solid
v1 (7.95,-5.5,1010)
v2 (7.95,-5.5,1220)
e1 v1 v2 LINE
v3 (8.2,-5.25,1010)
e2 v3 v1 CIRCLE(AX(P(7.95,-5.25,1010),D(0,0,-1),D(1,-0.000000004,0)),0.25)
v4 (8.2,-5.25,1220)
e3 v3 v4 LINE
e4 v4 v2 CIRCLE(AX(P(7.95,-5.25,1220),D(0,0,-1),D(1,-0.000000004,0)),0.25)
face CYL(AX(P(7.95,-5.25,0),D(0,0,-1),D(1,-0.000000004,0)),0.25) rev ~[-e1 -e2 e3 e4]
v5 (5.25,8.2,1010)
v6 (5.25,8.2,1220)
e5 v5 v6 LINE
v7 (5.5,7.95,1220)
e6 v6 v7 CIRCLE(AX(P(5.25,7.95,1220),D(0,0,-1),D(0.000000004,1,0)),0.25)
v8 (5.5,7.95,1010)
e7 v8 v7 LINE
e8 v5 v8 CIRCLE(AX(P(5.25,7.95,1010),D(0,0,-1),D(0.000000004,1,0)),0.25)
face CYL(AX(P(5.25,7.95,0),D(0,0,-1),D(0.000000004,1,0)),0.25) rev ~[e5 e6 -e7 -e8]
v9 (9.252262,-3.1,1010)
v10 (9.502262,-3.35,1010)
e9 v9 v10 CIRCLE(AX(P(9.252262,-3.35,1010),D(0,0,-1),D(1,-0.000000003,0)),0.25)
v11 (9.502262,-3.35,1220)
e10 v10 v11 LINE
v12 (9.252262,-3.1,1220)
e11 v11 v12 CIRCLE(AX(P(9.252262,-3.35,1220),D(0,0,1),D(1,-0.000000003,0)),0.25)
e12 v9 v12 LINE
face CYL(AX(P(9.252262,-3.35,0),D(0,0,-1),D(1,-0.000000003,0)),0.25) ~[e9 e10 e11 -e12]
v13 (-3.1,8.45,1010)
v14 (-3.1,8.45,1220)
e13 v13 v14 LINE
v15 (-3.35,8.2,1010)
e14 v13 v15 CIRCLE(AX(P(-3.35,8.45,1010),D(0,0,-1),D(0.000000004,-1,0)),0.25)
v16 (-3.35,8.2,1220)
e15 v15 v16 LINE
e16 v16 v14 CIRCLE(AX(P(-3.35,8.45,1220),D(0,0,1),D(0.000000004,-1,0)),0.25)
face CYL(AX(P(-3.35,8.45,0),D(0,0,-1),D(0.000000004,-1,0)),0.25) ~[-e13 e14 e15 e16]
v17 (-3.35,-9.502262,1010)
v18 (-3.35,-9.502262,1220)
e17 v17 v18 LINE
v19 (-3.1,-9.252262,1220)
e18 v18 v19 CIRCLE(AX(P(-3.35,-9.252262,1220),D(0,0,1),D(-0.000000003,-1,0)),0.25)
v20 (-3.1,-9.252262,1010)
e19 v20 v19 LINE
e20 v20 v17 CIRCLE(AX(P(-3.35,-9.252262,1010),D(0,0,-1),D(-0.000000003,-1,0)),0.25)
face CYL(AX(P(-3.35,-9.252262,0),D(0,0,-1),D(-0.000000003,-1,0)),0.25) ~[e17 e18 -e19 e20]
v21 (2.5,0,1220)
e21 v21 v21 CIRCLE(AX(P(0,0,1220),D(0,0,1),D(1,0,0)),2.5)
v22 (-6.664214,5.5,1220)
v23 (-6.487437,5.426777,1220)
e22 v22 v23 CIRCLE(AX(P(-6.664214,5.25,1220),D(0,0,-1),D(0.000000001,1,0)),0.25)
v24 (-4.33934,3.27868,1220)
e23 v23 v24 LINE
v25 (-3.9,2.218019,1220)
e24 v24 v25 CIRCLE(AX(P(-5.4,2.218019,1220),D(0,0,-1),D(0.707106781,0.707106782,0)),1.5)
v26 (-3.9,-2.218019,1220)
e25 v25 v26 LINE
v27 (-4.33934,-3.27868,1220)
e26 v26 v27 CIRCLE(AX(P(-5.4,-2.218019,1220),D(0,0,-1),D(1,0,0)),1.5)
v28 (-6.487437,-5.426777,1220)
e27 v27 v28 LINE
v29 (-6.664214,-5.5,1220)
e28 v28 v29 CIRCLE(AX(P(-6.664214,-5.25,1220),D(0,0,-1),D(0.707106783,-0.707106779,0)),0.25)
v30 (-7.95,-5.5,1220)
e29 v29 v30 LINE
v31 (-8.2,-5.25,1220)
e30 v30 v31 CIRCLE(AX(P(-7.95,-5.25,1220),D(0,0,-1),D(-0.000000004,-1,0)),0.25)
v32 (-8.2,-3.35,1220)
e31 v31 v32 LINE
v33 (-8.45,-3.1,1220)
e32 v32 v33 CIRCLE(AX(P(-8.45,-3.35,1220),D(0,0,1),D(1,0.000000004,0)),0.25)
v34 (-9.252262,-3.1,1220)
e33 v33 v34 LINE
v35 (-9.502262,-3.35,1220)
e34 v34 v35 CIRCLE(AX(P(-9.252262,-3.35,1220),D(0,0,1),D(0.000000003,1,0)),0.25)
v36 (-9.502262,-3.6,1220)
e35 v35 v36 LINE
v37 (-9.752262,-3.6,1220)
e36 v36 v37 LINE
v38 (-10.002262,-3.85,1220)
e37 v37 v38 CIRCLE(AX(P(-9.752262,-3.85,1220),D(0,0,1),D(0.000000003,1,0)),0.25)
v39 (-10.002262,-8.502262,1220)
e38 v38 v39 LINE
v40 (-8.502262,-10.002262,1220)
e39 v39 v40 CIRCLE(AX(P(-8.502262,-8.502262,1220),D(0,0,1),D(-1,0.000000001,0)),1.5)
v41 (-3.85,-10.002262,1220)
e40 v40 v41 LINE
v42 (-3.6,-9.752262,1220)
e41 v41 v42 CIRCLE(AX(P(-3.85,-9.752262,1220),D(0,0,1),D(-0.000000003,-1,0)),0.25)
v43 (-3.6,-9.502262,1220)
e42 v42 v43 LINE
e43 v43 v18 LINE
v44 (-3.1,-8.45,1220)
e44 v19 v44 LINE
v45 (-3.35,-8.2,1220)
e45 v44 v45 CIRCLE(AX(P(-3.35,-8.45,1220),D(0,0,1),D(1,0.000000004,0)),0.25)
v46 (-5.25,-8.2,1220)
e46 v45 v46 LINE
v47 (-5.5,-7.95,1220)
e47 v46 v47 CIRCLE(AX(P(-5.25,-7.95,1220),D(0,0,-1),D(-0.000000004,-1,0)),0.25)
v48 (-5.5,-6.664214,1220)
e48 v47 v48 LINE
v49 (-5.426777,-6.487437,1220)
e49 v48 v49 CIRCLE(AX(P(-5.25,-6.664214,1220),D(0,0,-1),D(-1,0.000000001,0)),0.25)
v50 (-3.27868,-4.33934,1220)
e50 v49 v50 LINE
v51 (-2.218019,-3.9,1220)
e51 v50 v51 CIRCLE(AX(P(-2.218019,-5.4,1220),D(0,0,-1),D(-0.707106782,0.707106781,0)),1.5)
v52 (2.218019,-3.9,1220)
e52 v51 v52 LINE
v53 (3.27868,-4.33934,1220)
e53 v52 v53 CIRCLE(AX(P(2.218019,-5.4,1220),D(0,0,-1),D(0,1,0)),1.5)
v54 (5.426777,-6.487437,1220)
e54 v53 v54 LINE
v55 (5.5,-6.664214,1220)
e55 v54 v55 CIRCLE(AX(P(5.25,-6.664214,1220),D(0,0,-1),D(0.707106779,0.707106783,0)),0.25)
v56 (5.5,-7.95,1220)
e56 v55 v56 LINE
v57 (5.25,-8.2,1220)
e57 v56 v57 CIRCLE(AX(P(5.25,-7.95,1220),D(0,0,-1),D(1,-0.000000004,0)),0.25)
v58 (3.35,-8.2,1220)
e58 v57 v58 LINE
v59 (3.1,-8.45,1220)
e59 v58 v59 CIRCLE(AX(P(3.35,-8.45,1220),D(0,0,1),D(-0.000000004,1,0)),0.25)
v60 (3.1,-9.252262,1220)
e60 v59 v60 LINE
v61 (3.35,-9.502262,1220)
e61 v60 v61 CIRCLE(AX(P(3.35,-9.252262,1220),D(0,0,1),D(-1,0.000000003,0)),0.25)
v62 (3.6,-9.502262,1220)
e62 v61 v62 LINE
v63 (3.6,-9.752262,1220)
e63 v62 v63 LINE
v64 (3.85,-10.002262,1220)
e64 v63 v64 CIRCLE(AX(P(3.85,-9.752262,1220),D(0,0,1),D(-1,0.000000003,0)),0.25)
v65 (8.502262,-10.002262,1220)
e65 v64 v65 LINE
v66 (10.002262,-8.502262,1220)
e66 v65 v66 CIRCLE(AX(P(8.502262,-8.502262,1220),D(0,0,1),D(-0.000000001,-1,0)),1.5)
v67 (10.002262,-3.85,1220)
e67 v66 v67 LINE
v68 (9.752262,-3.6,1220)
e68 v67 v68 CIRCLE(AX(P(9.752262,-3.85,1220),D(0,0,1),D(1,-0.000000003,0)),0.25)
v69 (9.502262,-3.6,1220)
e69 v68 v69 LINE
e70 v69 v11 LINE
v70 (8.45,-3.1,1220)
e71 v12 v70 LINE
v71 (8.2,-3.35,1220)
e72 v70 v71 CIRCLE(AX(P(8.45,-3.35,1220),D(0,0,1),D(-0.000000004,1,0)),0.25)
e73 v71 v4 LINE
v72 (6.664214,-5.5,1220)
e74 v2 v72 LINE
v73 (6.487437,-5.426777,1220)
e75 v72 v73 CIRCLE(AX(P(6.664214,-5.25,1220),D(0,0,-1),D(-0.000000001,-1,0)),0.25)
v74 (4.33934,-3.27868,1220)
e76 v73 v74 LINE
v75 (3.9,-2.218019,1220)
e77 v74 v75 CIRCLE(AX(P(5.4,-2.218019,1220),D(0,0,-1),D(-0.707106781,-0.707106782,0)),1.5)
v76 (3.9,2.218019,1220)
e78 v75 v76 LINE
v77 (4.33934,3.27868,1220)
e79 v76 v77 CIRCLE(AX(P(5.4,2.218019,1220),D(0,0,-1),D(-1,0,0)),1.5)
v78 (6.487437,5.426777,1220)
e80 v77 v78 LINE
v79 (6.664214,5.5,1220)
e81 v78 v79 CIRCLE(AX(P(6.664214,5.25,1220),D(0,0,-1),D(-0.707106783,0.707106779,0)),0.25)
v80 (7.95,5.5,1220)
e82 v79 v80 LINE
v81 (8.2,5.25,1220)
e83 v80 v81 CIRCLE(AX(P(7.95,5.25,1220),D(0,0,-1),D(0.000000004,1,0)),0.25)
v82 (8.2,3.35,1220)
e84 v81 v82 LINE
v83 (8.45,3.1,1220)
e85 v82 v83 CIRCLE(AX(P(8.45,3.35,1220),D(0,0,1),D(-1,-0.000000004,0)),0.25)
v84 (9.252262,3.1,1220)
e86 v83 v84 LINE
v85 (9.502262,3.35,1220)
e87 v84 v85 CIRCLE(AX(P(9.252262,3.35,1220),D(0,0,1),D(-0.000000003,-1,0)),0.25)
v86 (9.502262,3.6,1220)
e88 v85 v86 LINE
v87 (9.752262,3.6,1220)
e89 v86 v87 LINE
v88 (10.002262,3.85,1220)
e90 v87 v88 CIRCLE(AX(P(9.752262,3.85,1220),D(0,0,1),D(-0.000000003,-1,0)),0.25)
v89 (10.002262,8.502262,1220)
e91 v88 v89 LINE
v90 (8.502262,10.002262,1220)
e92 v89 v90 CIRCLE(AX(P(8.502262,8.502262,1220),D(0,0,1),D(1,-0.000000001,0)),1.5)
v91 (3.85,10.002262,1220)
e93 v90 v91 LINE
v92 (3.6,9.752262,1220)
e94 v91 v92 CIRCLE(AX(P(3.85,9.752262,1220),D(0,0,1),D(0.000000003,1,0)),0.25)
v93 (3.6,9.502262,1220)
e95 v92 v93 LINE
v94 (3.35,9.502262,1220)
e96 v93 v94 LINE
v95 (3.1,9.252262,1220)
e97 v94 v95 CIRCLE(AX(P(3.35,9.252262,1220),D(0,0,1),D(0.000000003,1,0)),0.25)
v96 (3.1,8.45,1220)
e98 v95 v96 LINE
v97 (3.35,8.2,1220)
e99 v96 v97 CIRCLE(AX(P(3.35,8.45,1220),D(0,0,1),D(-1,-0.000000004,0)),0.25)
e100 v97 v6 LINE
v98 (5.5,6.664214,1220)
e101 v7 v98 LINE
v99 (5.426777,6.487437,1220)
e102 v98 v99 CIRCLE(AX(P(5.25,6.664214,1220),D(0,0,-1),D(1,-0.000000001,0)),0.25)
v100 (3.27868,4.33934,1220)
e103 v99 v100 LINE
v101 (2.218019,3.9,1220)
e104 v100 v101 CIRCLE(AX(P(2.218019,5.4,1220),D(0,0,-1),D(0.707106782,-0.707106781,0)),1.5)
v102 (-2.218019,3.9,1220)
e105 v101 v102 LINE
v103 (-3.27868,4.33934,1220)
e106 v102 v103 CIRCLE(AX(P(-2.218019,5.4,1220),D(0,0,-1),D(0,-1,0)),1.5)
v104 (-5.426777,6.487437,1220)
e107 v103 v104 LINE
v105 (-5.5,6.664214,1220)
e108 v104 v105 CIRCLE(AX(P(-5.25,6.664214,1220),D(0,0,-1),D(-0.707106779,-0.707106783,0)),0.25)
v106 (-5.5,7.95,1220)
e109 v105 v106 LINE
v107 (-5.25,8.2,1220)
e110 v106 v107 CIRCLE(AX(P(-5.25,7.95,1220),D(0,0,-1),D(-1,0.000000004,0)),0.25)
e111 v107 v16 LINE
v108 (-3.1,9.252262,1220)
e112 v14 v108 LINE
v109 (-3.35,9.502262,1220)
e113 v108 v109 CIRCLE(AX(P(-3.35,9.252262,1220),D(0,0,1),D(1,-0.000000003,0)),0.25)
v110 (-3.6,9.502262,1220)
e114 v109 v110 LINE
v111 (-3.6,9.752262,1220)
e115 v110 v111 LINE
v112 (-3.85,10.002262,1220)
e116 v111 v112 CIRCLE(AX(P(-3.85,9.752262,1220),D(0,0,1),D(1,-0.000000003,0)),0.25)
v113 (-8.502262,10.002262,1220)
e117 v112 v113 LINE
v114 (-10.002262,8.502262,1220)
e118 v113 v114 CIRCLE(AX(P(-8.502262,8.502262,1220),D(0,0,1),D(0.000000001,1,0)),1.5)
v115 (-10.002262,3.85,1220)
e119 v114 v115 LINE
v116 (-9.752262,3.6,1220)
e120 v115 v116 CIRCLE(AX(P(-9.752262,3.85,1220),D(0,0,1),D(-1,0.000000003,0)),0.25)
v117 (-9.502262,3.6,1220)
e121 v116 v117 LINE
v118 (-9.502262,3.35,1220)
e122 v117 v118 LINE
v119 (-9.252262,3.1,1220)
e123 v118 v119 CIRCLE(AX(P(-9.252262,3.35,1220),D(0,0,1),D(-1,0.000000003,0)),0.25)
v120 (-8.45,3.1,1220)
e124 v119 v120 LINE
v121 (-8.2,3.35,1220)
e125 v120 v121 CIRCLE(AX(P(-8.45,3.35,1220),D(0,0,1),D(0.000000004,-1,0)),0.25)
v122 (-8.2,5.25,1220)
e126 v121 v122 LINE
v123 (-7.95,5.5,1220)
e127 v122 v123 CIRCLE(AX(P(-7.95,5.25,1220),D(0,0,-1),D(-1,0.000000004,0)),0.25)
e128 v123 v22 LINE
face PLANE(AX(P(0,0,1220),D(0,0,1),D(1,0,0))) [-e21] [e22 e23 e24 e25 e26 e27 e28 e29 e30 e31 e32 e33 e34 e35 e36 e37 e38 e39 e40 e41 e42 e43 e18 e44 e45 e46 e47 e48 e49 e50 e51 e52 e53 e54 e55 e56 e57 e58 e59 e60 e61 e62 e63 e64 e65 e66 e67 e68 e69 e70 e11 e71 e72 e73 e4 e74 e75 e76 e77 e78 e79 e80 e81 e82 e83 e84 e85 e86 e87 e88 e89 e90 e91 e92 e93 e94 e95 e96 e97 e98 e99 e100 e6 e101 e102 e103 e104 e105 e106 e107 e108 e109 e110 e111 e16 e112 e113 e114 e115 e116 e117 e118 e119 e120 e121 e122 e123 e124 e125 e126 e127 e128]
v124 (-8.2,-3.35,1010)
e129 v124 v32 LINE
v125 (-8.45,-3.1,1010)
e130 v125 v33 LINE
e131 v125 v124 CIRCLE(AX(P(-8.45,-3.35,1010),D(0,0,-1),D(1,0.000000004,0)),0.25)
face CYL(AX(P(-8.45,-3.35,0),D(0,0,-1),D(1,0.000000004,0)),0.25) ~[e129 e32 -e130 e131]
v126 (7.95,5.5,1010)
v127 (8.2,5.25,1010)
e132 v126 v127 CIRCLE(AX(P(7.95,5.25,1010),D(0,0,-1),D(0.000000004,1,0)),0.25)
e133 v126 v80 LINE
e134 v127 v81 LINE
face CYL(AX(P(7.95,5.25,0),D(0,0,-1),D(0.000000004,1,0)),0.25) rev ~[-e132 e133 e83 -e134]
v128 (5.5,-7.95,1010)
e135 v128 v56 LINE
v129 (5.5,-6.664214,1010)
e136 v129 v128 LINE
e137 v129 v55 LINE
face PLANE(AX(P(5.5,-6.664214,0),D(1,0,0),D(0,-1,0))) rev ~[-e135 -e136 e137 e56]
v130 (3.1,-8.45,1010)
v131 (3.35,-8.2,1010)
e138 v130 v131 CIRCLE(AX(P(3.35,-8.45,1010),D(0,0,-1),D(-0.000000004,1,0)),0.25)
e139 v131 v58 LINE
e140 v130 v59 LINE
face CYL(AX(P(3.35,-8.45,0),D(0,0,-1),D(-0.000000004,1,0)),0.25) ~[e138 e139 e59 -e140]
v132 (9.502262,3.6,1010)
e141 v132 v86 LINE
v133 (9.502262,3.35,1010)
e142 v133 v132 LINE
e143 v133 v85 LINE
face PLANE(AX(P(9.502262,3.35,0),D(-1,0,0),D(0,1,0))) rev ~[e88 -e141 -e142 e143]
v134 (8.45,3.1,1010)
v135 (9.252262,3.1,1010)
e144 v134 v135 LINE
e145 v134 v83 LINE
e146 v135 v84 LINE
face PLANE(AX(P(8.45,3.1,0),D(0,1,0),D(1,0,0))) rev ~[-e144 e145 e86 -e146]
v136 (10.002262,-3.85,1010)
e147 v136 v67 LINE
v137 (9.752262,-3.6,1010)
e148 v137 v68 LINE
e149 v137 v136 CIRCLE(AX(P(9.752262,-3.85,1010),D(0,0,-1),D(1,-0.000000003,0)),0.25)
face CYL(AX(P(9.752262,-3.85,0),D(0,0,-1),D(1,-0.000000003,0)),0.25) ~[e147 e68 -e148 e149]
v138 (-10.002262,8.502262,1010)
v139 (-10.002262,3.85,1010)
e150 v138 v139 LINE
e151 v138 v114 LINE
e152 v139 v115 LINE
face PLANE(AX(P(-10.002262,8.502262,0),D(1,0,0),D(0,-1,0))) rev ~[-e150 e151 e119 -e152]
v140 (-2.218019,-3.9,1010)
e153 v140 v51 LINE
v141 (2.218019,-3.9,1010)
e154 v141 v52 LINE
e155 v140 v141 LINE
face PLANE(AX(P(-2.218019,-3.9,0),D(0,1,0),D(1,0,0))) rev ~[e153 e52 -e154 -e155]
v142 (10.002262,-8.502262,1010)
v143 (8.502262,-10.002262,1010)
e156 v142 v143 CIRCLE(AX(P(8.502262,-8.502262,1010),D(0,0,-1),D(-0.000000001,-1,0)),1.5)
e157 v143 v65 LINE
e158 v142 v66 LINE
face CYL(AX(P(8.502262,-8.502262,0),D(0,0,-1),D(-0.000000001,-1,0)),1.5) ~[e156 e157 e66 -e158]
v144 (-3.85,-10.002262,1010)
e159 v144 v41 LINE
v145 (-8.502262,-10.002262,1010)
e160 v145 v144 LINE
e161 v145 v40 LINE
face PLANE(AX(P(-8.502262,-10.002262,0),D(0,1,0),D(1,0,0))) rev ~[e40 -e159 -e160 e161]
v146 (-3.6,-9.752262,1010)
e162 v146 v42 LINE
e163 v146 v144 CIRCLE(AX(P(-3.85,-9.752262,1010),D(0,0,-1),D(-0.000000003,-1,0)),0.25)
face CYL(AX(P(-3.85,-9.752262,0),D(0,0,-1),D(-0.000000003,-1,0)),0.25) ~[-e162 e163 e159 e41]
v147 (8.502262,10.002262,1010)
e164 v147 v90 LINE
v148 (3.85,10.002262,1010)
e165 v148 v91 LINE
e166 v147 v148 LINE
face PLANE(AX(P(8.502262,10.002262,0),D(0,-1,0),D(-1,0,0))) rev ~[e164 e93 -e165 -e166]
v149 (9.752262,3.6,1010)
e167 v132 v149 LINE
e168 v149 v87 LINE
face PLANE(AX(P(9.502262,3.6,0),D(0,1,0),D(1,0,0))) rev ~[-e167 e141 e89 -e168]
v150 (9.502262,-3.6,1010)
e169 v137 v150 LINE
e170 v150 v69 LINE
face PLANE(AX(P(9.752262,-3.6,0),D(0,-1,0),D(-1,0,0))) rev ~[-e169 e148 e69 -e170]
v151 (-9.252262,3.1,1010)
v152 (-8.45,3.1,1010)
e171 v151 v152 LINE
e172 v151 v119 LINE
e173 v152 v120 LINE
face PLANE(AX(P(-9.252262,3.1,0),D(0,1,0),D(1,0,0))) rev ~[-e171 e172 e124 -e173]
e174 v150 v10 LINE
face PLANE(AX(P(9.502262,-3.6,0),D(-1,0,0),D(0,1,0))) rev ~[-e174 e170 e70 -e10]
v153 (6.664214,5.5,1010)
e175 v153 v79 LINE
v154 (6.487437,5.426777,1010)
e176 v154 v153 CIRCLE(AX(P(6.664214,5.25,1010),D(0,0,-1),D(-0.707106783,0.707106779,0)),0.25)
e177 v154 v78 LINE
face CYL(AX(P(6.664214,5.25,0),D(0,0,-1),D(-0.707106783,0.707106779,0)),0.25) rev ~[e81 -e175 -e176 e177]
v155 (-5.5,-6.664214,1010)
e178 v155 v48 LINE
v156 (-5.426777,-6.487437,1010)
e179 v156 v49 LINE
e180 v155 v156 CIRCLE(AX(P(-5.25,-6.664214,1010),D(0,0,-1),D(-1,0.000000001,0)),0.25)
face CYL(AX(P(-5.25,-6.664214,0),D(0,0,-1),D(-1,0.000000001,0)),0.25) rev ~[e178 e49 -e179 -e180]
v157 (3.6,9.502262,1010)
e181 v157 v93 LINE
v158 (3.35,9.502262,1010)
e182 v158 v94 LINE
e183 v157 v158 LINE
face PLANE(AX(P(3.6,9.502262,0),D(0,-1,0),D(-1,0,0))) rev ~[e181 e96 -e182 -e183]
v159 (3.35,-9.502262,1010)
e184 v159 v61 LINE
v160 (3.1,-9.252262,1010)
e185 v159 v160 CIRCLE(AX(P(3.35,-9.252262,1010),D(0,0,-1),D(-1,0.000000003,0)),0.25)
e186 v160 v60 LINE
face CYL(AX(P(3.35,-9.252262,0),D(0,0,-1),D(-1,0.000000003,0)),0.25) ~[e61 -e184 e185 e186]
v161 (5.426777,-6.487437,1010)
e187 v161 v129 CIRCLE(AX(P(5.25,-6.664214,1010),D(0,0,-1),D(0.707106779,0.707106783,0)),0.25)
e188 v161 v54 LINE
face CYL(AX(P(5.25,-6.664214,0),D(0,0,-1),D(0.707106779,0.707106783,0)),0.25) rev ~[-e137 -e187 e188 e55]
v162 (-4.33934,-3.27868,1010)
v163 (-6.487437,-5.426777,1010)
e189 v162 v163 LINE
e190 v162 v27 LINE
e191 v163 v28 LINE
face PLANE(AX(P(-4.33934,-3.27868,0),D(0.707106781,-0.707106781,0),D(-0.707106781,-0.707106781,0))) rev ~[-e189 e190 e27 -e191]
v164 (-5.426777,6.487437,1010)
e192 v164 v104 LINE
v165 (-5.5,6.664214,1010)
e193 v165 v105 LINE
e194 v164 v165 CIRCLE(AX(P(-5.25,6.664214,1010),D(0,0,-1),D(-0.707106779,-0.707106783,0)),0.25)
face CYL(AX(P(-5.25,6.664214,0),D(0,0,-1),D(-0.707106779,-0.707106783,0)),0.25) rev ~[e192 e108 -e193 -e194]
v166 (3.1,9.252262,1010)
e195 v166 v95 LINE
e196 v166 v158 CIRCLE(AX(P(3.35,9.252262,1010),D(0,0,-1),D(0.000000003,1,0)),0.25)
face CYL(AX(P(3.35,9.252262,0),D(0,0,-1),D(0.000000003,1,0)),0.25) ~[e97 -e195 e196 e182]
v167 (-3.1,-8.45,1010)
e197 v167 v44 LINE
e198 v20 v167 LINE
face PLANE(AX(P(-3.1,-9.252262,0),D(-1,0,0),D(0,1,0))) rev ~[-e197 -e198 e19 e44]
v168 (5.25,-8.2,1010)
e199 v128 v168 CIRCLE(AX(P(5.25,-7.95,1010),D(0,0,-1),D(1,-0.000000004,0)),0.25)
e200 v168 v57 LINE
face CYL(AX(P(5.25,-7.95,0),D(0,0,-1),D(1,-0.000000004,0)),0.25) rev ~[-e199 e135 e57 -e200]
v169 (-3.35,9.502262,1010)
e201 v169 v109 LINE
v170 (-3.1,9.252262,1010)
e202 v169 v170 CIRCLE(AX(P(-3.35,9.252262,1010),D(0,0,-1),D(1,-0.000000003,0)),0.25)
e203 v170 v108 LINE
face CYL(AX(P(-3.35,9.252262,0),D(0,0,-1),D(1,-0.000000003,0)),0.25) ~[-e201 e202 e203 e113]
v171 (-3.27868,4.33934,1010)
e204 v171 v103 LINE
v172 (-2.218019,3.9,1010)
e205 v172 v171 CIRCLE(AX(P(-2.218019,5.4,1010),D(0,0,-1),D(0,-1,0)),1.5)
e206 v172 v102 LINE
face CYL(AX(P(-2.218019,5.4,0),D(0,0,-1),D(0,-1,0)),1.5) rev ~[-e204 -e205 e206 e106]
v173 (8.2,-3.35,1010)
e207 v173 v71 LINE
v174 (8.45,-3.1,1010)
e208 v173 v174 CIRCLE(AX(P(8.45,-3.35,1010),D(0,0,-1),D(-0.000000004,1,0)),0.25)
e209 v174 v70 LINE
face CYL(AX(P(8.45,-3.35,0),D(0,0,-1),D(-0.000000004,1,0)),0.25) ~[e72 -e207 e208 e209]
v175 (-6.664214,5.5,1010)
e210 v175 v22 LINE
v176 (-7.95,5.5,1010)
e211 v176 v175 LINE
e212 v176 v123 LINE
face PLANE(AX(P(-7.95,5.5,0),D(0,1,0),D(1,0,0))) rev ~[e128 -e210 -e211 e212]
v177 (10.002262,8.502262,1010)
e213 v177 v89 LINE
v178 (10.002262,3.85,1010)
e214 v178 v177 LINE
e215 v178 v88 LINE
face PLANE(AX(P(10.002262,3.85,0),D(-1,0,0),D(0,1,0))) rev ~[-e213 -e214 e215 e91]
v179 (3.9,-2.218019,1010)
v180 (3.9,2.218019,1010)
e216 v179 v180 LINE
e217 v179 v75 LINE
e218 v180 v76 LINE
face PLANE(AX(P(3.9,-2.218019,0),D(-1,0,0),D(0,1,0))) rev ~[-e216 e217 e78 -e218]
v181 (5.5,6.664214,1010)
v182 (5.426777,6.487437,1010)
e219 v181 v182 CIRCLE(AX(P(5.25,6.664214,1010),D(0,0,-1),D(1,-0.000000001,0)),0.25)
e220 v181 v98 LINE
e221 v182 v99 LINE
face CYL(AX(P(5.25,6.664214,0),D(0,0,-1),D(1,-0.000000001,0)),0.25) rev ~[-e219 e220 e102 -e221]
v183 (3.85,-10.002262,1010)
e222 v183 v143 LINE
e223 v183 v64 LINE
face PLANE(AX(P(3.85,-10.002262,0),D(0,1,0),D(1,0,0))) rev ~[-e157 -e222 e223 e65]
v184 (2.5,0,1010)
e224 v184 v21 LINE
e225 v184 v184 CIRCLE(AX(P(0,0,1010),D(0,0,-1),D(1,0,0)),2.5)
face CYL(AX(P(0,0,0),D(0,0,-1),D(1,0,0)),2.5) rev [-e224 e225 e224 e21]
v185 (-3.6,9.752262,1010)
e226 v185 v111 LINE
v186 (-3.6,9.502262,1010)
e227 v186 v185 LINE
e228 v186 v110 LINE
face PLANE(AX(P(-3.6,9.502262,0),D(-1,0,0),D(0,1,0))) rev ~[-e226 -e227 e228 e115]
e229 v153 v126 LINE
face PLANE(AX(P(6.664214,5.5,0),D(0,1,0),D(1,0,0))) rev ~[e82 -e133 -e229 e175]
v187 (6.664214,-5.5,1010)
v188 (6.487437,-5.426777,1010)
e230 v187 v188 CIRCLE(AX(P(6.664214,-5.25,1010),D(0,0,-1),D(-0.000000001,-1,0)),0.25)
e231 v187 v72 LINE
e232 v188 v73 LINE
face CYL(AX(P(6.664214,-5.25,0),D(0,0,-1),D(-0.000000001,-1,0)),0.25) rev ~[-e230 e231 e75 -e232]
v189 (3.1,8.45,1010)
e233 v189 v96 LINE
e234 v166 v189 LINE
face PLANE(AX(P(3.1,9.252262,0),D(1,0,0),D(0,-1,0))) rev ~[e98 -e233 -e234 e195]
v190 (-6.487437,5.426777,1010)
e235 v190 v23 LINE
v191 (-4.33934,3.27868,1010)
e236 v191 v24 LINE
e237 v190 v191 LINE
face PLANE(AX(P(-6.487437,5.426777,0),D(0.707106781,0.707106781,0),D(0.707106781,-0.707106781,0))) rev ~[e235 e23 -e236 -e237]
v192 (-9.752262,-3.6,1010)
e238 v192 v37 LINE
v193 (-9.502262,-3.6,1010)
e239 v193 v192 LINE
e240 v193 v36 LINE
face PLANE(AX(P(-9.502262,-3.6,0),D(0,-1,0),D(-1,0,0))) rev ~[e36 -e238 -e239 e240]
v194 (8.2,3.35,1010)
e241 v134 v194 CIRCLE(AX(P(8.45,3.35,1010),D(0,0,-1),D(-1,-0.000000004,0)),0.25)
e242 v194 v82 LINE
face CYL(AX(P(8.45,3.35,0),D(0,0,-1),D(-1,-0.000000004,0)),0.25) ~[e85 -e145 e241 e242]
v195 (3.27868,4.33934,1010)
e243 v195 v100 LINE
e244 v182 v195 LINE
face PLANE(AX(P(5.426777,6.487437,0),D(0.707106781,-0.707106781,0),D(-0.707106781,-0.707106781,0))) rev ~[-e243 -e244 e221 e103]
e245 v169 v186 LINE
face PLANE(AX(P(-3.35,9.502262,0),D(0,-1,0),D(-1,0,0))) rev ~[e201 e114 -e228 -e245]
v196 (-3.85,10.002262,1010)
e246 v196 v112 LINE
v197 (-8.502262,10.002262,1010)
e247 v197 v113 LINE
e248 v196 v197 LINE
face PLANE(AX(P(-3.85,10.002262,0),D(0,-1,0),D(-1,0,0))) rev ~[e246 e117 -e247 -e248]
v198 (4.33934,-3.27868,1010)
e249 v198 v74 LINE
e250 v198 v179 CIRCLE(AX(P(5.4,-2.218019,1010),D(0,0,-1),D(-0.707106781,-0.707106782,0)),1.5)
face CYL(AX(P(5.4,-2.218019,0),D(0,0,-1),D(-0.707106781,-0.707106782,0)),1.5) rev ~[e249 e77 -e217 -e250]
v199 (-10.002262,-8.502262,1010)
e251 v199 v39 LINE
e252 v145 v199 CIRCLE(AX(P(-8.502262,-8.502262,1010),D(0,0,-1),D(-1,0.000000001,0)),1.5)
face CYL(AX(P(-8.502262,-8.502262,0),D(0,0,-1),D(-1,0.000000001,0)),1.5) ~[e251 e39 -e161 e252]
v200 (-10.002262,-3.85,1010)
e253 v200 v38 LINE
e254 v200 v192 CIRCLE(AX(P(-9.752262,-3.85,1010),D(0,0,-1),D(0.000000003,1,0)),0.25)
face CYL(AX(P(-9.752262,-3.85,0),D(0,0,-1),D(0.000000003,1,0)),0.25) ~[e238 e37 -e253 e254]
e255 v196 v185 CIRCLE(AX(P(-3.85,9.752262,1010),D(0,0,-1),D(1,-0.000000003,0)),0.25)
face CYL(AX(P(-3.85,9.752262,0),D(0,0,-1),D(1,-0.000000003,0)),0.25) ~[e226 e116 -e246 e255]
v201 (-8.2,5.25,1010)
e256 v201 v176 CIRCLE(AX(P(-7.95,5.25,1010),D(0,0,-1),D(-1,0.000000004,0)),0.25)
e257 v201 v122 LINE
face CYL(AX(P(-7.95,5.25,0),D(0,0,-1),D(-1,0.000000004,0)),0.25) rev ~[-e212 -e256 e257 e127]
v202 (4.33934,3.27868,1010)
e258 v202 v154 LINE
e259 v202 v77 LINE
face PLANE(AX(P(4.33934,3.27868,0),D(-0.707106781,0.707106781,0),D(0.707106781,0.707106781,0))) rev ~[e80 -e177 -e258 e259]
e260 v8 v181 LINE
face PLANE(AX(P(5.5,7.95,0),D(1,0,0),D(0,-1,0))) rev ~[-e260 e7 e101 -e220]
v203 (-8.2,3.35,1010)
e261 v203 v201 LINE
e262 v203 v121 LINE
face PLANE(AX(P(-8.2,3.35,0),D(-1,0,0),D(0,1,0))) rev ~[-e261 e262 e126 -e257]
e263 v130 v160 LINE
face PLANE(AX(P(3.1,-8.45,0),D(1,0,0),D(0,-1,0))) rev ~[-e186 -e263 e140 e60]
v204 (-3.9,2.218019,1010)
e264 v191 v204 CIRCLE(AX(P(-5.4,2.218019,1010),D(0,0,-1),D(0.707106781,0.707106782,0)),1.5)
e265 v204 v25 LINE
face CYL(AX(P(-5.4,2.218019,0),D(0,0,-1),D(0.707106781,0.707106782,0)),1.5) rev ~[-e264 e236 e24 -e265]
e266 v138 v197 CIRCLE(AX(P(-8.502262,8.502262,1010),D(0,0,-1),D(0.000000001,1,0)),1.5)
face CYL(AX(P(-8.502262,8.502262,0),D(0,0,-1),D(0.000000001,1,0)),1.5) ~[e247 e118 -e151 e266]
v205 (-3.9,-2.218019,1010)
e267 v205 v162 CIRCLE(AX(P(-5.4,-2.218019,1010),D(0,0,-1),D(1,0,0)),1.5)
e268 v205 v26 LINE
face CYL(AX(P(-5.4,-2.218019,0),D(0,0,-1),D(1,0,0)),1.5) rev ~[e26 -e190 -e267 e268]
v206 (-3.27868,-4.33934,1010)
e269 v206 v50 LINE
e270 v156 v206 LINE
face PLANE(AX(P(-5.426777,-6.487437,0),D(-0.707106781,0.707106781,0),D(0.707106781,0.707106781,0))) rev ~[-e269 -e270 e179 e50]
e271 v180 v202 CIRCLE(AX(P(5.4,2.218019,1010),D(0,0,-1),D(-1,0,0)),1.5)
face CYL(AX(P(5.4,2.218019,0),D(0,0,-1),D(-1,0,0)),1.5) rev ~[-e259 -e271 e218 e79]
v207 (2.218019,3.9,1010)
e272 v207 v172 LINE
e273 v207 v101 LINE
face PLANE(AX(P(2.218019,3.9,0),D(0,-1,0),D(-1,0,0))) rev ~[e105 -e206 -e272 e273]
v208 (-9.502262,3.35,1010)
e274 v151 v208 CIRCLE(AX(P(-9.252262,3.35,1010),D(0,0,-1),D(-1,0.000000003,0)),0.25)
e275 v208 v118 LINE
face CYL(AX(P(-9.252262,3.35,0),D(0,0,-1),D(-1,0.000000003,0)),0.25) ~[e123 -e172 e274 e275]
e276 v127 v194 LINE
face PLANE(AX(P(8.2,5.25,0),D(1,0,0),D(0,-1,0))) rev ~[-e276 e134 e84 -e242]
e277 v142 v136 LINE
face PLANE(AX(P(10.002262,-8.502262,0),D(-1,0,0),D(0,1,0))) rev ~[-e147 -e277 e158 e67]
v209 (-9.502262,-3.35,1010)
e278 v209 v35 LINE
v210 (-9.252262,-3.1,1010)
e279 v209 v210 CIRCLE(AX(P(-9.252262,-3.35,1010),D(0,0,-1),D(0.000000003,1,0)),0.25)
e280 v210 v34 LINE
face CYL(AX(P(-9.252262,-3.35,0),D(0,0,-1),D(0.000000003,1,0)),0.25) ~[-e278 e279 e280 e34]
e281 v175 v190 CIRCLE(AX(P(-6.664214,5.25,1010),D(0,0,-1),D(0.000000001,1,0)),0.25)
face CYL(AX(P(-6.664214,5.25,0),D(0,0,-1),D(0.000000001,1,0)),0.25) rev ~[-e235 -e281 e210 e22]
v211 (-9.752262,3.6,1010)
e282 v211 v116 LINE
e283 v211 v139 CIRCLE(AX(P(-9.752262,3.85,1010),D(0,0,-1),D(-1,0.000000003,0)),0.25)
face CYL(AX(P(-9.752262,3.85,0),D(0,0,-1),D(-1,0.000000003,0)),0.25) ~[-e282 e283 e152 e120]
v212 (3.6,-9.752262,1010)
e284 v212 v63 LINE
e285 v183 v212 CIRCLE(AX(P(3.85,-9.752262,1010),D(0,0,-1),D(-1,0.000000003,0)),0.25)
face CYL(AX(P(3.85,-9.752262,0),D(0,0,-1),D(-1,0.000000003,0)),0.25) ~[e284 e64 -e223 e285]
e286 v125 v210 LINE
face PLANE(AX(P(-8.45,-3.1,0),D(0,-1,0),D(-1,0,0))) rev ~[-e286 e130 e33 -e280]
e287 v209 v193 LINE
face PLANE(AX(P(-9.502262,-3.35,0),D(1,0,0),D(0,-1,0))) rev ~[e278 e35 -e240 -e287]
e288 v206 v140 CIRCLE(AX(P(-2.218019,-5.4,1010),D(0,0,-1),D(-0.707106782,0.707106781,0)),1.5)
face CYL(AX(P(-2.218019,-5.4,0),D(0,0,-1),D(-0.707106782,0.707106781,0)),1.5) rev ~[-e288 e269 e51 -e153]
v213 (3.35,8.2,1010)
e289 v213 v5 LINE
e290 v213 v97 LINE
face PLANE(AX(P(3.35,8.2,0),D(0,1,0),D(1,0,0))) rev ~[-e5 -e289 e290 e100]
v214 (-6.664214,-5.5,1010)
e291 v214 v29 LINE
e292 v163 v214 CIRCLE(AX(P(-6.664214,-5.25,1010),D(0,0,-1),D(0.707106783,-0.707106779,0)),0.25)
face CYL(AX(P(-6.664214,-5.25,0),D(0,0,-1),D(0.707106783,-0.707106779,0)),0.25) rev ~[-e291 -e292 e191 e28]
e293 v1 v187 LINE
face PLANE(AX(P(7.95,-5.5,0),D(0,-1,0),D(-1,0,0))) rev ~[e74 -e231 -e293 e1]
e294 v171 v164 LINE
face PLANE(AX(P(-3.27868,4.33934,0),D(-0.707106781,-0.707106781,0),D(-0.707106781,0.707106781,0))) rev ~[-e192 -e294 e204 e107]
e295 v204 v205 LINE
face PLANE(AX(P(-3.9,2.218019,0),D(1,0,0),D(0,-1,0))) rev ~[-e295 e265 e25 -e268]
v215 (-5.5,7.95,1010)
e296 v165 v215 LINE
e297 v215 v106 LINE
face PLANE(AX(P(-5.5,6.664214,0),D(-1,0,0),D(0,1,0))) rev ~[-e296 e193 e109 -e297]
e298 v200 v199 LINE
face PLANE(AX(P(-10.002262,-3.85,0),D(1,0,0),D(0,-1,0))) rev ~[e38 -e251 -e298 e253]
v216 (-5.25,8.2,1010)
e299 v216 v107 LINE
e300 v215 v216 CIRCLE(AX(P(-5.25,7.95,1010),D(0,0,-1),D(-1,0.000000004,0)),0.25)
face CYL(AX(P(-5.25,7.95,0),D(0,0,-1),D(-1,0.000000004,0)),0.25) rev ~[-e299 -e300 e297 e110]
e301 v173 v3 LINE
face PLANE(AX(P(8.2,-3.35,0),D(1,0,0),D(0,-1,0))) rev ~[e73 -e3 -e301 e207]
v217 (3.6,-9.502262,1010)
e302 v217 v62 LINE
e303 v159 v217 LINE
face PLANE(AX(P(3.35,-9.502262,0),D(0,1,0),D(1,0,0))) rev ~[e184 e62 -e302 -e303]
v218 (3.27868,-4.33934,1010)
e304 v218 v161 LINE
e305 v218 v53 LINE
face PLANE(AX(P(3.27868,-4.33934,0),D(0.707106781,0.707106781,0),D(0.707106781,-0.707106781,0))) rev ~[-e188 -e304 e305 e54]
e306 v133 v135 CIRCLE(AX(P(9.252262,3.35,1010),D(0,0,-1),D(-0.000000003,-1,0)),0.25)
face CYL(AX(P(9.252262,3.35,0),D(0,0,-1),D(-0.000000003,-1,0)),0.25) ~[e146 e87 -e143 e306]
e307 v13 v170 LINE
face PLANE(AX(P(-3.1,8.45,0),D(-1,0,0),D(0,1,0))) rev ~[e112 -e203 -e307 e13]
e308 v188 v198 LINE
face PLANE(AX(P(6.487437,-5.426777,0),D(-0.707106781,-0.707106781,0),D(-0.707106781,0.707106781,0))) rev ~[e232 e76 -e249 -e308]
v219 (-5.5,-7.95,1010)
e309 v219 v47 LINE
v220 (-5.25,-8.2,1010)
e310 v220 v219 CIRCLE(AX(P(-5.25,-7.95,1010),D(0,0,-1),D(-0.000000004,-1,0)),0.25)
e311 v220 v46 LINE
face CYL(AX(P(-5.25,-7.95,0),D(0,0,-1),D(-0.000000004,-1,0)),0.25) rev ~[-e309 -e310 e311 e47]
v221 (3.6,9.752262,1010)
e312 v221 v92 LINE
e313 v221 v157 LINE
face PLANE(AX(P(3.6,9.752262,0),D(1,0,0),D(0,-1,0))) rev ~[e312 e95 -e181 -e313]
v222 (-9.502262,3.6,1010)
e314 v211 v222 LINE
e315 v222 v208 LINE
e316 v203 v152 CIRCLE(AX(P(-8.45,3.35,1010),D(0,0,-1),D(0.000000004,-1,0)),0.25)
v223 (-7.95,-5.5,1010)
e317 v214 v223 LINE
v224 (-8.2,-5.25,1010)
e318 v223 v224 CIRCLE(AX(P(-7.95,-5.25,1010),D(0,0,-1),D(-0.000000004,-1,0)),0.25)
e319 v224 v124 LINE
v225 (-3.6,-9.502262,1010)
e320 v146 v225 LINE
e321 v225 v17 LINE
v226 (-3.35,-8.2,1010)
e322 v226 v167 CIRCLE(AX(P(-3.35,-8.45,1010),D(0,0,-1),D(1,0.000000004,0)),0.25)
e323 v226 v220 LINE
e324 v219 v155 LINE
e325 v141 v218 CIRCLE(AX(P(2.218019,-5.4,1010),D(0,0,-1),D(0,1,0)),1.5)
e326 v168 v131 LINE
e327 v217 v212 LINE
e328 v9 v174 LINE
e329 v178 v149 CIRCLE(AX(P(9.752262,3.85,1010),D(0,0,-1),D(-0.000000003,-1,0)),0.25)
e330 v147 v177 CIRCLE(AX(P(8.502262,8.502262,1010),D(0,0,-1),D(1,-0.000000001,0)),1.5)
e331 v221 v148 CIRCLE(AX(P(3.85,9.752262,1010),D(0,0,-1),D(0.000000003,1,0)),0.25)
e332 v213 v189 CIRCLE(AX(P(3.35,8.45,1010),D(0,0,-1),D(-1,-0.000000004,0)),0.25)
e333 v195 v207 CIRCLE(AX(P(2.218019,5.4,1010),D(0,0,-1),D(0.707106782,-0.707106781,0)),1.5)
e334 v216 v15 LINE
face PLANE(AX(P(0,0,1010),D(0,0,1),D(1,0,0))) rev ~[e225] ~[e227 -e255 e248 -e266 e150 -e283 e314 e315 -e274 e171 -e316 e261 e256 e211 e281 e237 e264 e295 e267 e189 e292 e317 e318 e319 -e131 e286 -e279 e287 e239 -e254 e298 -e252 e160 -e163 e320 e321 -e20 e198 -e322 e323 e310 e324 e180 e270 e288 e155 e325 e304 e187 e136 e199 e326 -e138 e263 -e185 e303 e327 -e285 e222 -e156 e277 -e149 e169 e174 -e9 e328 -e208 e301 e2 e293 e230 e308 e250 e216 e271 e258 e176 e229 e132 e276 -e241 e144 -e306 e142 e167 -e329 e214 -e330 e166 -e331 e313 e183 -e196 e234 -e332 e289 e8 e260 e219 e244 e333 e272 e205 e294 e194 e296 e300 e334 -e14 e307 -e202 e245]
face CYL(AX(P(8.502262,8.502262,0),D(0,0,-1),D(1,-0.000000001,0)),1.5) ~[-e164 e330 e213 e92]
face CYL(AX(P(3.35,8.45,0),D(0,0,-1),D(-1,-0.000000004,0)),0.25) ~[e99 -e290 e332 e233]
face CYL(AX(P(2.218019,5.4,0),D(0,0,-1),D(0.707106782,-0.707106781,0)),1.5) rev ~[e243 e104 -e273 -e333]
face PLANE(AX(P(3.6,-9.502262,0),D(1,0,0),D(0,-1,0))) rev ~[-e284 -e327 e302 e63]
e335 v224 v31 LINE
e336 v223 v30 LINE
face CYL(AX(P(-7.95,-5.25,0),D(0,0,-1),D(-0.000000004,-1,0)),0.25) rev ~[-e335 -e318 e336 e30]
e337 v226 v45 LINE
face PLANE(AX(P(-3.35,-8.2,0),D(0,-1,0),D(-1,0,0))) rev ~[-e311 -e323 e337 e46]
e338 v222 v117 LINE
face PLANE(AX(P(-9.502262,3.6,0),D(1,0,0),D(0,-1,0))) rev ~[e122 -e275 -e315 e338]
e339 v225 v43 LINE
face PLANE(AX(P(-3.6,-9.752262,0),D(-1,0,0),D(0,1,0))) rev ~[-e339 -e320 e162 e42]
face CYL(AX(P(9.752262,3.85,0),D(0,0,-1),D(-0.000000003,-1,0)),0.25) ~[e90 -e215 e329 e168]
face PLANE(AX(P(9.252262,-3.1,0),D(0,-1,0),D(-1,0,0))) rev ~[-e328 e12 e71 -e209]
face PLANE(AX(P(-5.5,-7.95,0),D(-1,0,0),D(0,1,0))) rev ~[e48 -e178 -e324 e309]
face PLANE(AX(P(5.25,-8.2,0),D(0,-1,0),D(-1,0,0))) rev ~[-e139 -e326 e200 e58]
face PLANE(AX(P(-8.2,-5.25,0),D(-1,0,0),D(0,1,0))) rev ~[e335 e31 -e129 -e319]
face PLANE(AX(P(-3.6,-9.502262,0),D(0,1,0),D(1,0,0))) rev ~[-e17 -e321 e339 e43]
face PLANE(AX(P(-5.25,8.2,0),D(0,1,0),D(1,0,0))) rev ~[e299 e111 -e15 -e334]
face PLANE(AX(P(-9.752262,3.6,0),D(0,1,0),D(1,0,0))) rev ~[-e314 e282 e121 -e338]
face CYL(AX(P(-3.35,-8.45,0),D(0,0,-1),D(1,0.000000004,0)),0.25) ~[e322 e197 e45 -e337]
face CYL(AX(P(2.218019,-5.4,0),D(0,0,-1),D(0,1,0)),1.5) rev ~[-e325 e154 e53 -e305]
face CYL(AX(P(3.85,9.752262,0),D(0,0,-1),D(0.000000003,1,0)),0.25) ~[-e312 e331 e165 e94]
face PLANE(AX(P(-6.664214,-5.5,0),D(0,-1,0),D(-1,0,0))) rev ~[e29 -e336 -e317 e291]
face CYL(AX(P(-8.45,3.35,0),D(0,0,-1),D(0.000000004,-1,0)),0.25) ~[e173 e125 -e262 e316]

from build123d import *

# Parameters (mm, degrees)
SKETCH_1_R         = 2.5
EXTRUDE_1_DEPTH    = 1220
SKETCH1_R          = 16.771487081
CUT_EXTRUDE1_DEPTH = 1011


with BuildPart() as part:
    # 草图1 → 凸台-拉伸1 (new body)
    with BuildSketch(Plane.XY):
        with BuildLine():
            Line((-8.502261885, -10.002261885), (-3.85, -10.002261885))
            ThreePointArc((-3.85, -10.002261885), (-3.673223305, -9.929038581), (-3.6, -9.752261885))
            Line((-3.6, -9.752261885), (-3.6, -9.502261885))
            Line((-3.6, -9.502261885), (-3.35, -9.502261885))
            ThreePointArc((-3.35, -9.502261885), (-3.173223305, -9.429038581), (-3.1, -9.252261885))
            Line((-3.1, -9.252261885), (-3.1, -8.45))
            ThreePointArc((-3.1, -8.45), (-3.173223305, -8.273223305), (-3.35, -8.2))
            Line((-3.35, -8.2), (-5.25, -8.2))
            ThreePointArc((-5.25, -8.2), (-5.426776695, -8.126776695), (-5.5, -7.95))
            Line((-5.5, -7.95), (-5.5, -6.664213562))
            ThreePointArc((-5.5, -6.664213562), (-5.480969883, -6.568542704), (-5.426776695, -6.487436867))
            Line((-5.426776695, -6.487436867), (-3.278679656, -4.339339828))
            ThreePointArc((-3.278679656, -4.339339828), (-2.792044633, -4.014180701), (-2.218019485, -3.9))
            Line((-2.218019485, -3.9), (2.218019485, -3.9))
            ThreePointArc((2.218019485, -3.9), (2.792044633, -4.014180701), (3.278679656, -4.339339828))
            Line((3.278679656, -4.339339828), (5.426776695, -6.487436867))
            ThreePointArc((5.426776695, -6.487436867), (5.480969883, -6.568542704), (5.5, -6.664213562))
            Line((5.5, -6.664213562), (5.5, -7.95))
            ThreePointArc((5.5, -7.95), (5.426776695, -8.126776695), (5.25, -8.2))
            Line((5.25, -8.2), (3.35, -8.2))
            ThreePointArc((3.35, -8.2), (3.173223305, -8.273223305), (3.1, -8.45))
            Line((3.1, -8.45), (3.1, -9.252261885))
            ThreePointArc((3.1, -9.252261885), (3.173223305, -9.429038581), (3.35, -9.502261885))
            Line((3.35, -9.502261885), (3.6, -9.502261885))
            Line((3.6, -9.502261885), (3.6, -9.752261885))
            ThreePointArc((3.6, -9.752261885), (3.673223305, -9.929038581), (3.85, -10.002261885))
            Line((3.85, -10.002261885), (8.502261885, -10.002261885))
            ThreePointArc((8.502261885, -10.002261885), (9.562922057, -9.562922057), (10.002261885, -8.502261885))
            Line((10.002261885, -8.502261885), (10.002261885, -3.85))
            ThreePointArc((10.002261885, -3.85), (9.929038581, -3.673223305), (9.752261885, -3.6))
            Line((9.752261885, -3.6), (9.502261885, -3.6))
            Line((9.502261885, -3.6), (9.502261885, -3.35))
            ThreePointArc((9.502261885, -3.35), (9.429038581, -3.173223305), (9.252261885, -3.1))
            Line((9.252261885, -3.1), (8.45, -3.1))
            ThreePointArc((8.45, -3.1), (8.273223305, -3.173223305), (8.2, -3.35))
            Line((8.2, -3.35), (8.2, -5.25))
            ThreePointArc((8.2, -5.25), (8.126776695, -5.426776695), (7.95, -5.5))
            Line((7.95, -5.5), (6.664213562, -5.5))
            ThreePointArc((6.664213562, -5.5), (6.568542704, -5.480969883), (6.487436867, -5.426776695))
            Line((6.487436867, -5.426776695), (4.339339828, -3.278679656))
            ThreePointArc((4.339339828, -3.278679656), (4.014180701, -2.792044633), (3.9, -2.218019485))
            Line((3.9, -2.218019485), (3.9, 2.218019485))
            ThreePointArc((3.9, 2.218019485), (4.014180701, 2.792044633), (4.339339828, 3.278679656))
            Line((4.339339828, 3.278679656), (6.487436867, 5.426776695))
            ThreePointArc((6.487436867, 5.426776695), (6.568542704, 5.480969883), (6.664213562, 5.5))
            Line((6.664213562, 5.5), (7.95, 5.5))
            ThreePointArc((7.95, 5.5), (8.126776695, 5.426776695), (8.2, 5.25))
            Line((8.2, 5.25), (8.2, 3.35))
            ThreePointArc((8.2, 3.35), (8.273223305, 3.173223305), (8.45, 3.1))
            Line((8.45, 3.1), (9.252261885, 3.1))
            ThreePointArc((9.252261885, 3.1), (9.429038581, 3.173223305), (9.502261885, 3.35))
            Line((9.502261885, 3.35), (9.502261885, 3.6))
            Line((9.502261885, 3.6), (9.752261885, 3.6))
            ThreePointArc((9.752261885, 3.6), (9.929038581, 3.673223305), (10.002261885, 3.85))
            Line((10.002261885, 3.85), (10.002261885, 8.502261885))
            ThreePointArc((10.002261885, 8.502261885), (9.562922057, 9.562922057), (8.502261885, 10.002261885))
            Line((8.502261885, 10.002261885), (3.85, 10.002261885))
            ThreePointArc((3.85, 10.002261885), (3.673223305, 9.929038581), (3.6, 9.752261885))
            Line((3.6, 9.752261885), (3.6, 9.502261885))
            Line((3.6, 9.502261885), (3.35, 9.502261885))
            ThreePointArc((3.35, 9.502261885), (3.173223305, 9.429038581), (3.1, 9.252261885))
            Line((3.1, 9.252261885), (3.1, 8.45))
            ThreePointArc((3.1, 8.45), (3.173223305, 8.273223305), (3.35, 8.2))
            Line((3.35, 8.2), (5.25, 8.2))
            ThreePointArc((5.25, 8.2), (5.426776695, 8.126776695), (5.5, 7.95))
            Line((5.5, 7.95), (5.5, 6.664213562))
            ThreePointArc((5.5, 6.664213562), (5.480969883, 6.568542704), (5.426776695, 6.487436867))
            Line((5.426776695, 6.487436867), (3.278679656, 4.339339828))
            ThreePointArc((3.278679656, 4.339339828), (2.792044633, 4.014180701), (2.218019485, 3.9))
            Line((2.218019485, 3.9), (-2.218019485, 3.9))
            ThreePointArc((-2.218019485, 3.9), (-2.792044633, 4.014180701), (-3.278679656, 4.339339828))
            Line((-3.278679656, 4.339339828), (-5.426776695, 6.487436867))
            ThreePointArc((-5.426776695, 6.487436867), (-5.480969883, 6.568542704), (-5.5, 6.664213562))
            Line((-5.5, 6.664213562), (-5.5, 7.95))
            ThreePointArc((-5.5, 7.95), (-5.426776695, 8.126776695), (-5.25, 8.2))
            Line((-5.25, 8.2), (-3.35, 8.2))
            ThreePointArc((-3.35, 8.2), (-3.173223305, 8.273223305), (-3.1, 8.45))
            Line((-3.1, 8.45), (-3.1, 9.252261885))
            ThreePointArc((-3.1, 9.252261885), (-3.173223305, 9.429038581), (-3.35, 9.502261885))
            Line((-3.35, 9.502261885), (-3.6, 9.502261885))
            Line((-3.6, 9.502261885), (-3.6, 9.752261885))
            ThreePointArc((-3.6, 9.752261885), (-3.673223305, 9.929038581), (-3.85, 10.002261885))
            Line((-3.85, 10.002261885), (-8.502261885, 10.002261885))
            ThreePointArc((-8.502261885, 10.002261885), (-9.562922057, 9.562922057), (-10.002261885, 8.502261885))
            Line((-10.002261885, 8.502261885), (-10.002261885, 3.85))
            ThreePointArc((-10.002261885, 3.85), (-9.929038581, 3.673223305), (-9.752261885, 3.6))
            Line((-9.752261885, 3.6), (-9.502261885, 3.6))
            Line((-9.502261885, 3.6), (-9.502261885, 3.35))
            ThreePointArc((-9.502261885, 3.35), (-9.429038581, 3.173223305), (-9.252261885, 3.1))
            Line((-9.252261885, 3.1), (-8.45, 3.1))
            ThreePointArc((-8.45, 3.1), (-8.273223305, 3.173223305), (-8.2, 3.35))
            Line((-8.2, 3.35), (-8.2, 5.25))
            ThreePointArc((-8.2, 5.25), (-8.126776695, 5.426776695), (-7.95, 5.5))
            Line((-7.95, 5.5), (-6.664213562, 5.5))
            ThreePointArc((-6.664213562, 5.5), (-6.568542704, 5.480969883), (-6.487436867, 5.426776695))
            Line((-6.487436867, 5.426776695), (-4.339339828, 3.278679656))
            ThreePointArc((-4.339339828, 3.278679656), (-4.014180701, 2.792044633), (-3.9, 2.218019485))
            Line((-3.9, 2.218019485), (-3.9, -2.218019485))
            ThreePointArc((-3.9, -2.218019485), (-4.014180701, -2.792044633), (-4.339339828, -3.278679656))
            Line((-4.339339828, -3.278679656), (-6.487436867, -5.426776695))
            ThreePointArc((-6.487436867, -5.426776695), (-6.568542704, -5.480969883), (-6.664213562, -5.5))
            Line((-6.664213562, -5.5), (-7.95, -5.5))
            ThreePointArc((-7.95, -5.5), (-8.126776695, -5.426776695), (-8.2, -5.25))
            Line((-8.2, -5.25), (-8.2, -3.35))
            ThreePointArc((-8.2, -3.35), (-8.273223305, -3.173223305), (-8.45, -3.1))
            Line((-8.45, -3.1), (-9.252261885, -3.1))
            ThreePointArc((-9.252261885, -3.1), (-9.429038581, -3.173223305), (-9.502261885, -3.35))
            Line((-9.502261885, -3.35), (-9.502261885, -3.6))
            Line((-9.502261885, -3.6), (-9.752261885, -3.6))
            ThreePointArc((-9.752261885, -3.6), (-9.929038581, -3.673223305), (-10.002261885, -3.85))
            Line((-10.002261885, -3.85), (-10.002261885, -8.502261885))
            ThreePointArc((-10.002261885, -8.502261885), (-9.562922057, -9.562922057), (-8.502261885, -10.002261885))
        make_face()
        Circle(SKETCH_1_R, mode=Mode.SUBTRACT)
    extrude(amount=EXTRUDE_1_DEPTH)

    # Sketch1 → Cut-Extrude1 (cut, through all)
    with BuildSketch(Plane.XY.offset(1010)):
        Circle(SKETCH1_R)
    extrude(amount=-CUT_EXTRUDE1_DEPTH, mode=Mode.SUBTRACT)


solid = part.part
